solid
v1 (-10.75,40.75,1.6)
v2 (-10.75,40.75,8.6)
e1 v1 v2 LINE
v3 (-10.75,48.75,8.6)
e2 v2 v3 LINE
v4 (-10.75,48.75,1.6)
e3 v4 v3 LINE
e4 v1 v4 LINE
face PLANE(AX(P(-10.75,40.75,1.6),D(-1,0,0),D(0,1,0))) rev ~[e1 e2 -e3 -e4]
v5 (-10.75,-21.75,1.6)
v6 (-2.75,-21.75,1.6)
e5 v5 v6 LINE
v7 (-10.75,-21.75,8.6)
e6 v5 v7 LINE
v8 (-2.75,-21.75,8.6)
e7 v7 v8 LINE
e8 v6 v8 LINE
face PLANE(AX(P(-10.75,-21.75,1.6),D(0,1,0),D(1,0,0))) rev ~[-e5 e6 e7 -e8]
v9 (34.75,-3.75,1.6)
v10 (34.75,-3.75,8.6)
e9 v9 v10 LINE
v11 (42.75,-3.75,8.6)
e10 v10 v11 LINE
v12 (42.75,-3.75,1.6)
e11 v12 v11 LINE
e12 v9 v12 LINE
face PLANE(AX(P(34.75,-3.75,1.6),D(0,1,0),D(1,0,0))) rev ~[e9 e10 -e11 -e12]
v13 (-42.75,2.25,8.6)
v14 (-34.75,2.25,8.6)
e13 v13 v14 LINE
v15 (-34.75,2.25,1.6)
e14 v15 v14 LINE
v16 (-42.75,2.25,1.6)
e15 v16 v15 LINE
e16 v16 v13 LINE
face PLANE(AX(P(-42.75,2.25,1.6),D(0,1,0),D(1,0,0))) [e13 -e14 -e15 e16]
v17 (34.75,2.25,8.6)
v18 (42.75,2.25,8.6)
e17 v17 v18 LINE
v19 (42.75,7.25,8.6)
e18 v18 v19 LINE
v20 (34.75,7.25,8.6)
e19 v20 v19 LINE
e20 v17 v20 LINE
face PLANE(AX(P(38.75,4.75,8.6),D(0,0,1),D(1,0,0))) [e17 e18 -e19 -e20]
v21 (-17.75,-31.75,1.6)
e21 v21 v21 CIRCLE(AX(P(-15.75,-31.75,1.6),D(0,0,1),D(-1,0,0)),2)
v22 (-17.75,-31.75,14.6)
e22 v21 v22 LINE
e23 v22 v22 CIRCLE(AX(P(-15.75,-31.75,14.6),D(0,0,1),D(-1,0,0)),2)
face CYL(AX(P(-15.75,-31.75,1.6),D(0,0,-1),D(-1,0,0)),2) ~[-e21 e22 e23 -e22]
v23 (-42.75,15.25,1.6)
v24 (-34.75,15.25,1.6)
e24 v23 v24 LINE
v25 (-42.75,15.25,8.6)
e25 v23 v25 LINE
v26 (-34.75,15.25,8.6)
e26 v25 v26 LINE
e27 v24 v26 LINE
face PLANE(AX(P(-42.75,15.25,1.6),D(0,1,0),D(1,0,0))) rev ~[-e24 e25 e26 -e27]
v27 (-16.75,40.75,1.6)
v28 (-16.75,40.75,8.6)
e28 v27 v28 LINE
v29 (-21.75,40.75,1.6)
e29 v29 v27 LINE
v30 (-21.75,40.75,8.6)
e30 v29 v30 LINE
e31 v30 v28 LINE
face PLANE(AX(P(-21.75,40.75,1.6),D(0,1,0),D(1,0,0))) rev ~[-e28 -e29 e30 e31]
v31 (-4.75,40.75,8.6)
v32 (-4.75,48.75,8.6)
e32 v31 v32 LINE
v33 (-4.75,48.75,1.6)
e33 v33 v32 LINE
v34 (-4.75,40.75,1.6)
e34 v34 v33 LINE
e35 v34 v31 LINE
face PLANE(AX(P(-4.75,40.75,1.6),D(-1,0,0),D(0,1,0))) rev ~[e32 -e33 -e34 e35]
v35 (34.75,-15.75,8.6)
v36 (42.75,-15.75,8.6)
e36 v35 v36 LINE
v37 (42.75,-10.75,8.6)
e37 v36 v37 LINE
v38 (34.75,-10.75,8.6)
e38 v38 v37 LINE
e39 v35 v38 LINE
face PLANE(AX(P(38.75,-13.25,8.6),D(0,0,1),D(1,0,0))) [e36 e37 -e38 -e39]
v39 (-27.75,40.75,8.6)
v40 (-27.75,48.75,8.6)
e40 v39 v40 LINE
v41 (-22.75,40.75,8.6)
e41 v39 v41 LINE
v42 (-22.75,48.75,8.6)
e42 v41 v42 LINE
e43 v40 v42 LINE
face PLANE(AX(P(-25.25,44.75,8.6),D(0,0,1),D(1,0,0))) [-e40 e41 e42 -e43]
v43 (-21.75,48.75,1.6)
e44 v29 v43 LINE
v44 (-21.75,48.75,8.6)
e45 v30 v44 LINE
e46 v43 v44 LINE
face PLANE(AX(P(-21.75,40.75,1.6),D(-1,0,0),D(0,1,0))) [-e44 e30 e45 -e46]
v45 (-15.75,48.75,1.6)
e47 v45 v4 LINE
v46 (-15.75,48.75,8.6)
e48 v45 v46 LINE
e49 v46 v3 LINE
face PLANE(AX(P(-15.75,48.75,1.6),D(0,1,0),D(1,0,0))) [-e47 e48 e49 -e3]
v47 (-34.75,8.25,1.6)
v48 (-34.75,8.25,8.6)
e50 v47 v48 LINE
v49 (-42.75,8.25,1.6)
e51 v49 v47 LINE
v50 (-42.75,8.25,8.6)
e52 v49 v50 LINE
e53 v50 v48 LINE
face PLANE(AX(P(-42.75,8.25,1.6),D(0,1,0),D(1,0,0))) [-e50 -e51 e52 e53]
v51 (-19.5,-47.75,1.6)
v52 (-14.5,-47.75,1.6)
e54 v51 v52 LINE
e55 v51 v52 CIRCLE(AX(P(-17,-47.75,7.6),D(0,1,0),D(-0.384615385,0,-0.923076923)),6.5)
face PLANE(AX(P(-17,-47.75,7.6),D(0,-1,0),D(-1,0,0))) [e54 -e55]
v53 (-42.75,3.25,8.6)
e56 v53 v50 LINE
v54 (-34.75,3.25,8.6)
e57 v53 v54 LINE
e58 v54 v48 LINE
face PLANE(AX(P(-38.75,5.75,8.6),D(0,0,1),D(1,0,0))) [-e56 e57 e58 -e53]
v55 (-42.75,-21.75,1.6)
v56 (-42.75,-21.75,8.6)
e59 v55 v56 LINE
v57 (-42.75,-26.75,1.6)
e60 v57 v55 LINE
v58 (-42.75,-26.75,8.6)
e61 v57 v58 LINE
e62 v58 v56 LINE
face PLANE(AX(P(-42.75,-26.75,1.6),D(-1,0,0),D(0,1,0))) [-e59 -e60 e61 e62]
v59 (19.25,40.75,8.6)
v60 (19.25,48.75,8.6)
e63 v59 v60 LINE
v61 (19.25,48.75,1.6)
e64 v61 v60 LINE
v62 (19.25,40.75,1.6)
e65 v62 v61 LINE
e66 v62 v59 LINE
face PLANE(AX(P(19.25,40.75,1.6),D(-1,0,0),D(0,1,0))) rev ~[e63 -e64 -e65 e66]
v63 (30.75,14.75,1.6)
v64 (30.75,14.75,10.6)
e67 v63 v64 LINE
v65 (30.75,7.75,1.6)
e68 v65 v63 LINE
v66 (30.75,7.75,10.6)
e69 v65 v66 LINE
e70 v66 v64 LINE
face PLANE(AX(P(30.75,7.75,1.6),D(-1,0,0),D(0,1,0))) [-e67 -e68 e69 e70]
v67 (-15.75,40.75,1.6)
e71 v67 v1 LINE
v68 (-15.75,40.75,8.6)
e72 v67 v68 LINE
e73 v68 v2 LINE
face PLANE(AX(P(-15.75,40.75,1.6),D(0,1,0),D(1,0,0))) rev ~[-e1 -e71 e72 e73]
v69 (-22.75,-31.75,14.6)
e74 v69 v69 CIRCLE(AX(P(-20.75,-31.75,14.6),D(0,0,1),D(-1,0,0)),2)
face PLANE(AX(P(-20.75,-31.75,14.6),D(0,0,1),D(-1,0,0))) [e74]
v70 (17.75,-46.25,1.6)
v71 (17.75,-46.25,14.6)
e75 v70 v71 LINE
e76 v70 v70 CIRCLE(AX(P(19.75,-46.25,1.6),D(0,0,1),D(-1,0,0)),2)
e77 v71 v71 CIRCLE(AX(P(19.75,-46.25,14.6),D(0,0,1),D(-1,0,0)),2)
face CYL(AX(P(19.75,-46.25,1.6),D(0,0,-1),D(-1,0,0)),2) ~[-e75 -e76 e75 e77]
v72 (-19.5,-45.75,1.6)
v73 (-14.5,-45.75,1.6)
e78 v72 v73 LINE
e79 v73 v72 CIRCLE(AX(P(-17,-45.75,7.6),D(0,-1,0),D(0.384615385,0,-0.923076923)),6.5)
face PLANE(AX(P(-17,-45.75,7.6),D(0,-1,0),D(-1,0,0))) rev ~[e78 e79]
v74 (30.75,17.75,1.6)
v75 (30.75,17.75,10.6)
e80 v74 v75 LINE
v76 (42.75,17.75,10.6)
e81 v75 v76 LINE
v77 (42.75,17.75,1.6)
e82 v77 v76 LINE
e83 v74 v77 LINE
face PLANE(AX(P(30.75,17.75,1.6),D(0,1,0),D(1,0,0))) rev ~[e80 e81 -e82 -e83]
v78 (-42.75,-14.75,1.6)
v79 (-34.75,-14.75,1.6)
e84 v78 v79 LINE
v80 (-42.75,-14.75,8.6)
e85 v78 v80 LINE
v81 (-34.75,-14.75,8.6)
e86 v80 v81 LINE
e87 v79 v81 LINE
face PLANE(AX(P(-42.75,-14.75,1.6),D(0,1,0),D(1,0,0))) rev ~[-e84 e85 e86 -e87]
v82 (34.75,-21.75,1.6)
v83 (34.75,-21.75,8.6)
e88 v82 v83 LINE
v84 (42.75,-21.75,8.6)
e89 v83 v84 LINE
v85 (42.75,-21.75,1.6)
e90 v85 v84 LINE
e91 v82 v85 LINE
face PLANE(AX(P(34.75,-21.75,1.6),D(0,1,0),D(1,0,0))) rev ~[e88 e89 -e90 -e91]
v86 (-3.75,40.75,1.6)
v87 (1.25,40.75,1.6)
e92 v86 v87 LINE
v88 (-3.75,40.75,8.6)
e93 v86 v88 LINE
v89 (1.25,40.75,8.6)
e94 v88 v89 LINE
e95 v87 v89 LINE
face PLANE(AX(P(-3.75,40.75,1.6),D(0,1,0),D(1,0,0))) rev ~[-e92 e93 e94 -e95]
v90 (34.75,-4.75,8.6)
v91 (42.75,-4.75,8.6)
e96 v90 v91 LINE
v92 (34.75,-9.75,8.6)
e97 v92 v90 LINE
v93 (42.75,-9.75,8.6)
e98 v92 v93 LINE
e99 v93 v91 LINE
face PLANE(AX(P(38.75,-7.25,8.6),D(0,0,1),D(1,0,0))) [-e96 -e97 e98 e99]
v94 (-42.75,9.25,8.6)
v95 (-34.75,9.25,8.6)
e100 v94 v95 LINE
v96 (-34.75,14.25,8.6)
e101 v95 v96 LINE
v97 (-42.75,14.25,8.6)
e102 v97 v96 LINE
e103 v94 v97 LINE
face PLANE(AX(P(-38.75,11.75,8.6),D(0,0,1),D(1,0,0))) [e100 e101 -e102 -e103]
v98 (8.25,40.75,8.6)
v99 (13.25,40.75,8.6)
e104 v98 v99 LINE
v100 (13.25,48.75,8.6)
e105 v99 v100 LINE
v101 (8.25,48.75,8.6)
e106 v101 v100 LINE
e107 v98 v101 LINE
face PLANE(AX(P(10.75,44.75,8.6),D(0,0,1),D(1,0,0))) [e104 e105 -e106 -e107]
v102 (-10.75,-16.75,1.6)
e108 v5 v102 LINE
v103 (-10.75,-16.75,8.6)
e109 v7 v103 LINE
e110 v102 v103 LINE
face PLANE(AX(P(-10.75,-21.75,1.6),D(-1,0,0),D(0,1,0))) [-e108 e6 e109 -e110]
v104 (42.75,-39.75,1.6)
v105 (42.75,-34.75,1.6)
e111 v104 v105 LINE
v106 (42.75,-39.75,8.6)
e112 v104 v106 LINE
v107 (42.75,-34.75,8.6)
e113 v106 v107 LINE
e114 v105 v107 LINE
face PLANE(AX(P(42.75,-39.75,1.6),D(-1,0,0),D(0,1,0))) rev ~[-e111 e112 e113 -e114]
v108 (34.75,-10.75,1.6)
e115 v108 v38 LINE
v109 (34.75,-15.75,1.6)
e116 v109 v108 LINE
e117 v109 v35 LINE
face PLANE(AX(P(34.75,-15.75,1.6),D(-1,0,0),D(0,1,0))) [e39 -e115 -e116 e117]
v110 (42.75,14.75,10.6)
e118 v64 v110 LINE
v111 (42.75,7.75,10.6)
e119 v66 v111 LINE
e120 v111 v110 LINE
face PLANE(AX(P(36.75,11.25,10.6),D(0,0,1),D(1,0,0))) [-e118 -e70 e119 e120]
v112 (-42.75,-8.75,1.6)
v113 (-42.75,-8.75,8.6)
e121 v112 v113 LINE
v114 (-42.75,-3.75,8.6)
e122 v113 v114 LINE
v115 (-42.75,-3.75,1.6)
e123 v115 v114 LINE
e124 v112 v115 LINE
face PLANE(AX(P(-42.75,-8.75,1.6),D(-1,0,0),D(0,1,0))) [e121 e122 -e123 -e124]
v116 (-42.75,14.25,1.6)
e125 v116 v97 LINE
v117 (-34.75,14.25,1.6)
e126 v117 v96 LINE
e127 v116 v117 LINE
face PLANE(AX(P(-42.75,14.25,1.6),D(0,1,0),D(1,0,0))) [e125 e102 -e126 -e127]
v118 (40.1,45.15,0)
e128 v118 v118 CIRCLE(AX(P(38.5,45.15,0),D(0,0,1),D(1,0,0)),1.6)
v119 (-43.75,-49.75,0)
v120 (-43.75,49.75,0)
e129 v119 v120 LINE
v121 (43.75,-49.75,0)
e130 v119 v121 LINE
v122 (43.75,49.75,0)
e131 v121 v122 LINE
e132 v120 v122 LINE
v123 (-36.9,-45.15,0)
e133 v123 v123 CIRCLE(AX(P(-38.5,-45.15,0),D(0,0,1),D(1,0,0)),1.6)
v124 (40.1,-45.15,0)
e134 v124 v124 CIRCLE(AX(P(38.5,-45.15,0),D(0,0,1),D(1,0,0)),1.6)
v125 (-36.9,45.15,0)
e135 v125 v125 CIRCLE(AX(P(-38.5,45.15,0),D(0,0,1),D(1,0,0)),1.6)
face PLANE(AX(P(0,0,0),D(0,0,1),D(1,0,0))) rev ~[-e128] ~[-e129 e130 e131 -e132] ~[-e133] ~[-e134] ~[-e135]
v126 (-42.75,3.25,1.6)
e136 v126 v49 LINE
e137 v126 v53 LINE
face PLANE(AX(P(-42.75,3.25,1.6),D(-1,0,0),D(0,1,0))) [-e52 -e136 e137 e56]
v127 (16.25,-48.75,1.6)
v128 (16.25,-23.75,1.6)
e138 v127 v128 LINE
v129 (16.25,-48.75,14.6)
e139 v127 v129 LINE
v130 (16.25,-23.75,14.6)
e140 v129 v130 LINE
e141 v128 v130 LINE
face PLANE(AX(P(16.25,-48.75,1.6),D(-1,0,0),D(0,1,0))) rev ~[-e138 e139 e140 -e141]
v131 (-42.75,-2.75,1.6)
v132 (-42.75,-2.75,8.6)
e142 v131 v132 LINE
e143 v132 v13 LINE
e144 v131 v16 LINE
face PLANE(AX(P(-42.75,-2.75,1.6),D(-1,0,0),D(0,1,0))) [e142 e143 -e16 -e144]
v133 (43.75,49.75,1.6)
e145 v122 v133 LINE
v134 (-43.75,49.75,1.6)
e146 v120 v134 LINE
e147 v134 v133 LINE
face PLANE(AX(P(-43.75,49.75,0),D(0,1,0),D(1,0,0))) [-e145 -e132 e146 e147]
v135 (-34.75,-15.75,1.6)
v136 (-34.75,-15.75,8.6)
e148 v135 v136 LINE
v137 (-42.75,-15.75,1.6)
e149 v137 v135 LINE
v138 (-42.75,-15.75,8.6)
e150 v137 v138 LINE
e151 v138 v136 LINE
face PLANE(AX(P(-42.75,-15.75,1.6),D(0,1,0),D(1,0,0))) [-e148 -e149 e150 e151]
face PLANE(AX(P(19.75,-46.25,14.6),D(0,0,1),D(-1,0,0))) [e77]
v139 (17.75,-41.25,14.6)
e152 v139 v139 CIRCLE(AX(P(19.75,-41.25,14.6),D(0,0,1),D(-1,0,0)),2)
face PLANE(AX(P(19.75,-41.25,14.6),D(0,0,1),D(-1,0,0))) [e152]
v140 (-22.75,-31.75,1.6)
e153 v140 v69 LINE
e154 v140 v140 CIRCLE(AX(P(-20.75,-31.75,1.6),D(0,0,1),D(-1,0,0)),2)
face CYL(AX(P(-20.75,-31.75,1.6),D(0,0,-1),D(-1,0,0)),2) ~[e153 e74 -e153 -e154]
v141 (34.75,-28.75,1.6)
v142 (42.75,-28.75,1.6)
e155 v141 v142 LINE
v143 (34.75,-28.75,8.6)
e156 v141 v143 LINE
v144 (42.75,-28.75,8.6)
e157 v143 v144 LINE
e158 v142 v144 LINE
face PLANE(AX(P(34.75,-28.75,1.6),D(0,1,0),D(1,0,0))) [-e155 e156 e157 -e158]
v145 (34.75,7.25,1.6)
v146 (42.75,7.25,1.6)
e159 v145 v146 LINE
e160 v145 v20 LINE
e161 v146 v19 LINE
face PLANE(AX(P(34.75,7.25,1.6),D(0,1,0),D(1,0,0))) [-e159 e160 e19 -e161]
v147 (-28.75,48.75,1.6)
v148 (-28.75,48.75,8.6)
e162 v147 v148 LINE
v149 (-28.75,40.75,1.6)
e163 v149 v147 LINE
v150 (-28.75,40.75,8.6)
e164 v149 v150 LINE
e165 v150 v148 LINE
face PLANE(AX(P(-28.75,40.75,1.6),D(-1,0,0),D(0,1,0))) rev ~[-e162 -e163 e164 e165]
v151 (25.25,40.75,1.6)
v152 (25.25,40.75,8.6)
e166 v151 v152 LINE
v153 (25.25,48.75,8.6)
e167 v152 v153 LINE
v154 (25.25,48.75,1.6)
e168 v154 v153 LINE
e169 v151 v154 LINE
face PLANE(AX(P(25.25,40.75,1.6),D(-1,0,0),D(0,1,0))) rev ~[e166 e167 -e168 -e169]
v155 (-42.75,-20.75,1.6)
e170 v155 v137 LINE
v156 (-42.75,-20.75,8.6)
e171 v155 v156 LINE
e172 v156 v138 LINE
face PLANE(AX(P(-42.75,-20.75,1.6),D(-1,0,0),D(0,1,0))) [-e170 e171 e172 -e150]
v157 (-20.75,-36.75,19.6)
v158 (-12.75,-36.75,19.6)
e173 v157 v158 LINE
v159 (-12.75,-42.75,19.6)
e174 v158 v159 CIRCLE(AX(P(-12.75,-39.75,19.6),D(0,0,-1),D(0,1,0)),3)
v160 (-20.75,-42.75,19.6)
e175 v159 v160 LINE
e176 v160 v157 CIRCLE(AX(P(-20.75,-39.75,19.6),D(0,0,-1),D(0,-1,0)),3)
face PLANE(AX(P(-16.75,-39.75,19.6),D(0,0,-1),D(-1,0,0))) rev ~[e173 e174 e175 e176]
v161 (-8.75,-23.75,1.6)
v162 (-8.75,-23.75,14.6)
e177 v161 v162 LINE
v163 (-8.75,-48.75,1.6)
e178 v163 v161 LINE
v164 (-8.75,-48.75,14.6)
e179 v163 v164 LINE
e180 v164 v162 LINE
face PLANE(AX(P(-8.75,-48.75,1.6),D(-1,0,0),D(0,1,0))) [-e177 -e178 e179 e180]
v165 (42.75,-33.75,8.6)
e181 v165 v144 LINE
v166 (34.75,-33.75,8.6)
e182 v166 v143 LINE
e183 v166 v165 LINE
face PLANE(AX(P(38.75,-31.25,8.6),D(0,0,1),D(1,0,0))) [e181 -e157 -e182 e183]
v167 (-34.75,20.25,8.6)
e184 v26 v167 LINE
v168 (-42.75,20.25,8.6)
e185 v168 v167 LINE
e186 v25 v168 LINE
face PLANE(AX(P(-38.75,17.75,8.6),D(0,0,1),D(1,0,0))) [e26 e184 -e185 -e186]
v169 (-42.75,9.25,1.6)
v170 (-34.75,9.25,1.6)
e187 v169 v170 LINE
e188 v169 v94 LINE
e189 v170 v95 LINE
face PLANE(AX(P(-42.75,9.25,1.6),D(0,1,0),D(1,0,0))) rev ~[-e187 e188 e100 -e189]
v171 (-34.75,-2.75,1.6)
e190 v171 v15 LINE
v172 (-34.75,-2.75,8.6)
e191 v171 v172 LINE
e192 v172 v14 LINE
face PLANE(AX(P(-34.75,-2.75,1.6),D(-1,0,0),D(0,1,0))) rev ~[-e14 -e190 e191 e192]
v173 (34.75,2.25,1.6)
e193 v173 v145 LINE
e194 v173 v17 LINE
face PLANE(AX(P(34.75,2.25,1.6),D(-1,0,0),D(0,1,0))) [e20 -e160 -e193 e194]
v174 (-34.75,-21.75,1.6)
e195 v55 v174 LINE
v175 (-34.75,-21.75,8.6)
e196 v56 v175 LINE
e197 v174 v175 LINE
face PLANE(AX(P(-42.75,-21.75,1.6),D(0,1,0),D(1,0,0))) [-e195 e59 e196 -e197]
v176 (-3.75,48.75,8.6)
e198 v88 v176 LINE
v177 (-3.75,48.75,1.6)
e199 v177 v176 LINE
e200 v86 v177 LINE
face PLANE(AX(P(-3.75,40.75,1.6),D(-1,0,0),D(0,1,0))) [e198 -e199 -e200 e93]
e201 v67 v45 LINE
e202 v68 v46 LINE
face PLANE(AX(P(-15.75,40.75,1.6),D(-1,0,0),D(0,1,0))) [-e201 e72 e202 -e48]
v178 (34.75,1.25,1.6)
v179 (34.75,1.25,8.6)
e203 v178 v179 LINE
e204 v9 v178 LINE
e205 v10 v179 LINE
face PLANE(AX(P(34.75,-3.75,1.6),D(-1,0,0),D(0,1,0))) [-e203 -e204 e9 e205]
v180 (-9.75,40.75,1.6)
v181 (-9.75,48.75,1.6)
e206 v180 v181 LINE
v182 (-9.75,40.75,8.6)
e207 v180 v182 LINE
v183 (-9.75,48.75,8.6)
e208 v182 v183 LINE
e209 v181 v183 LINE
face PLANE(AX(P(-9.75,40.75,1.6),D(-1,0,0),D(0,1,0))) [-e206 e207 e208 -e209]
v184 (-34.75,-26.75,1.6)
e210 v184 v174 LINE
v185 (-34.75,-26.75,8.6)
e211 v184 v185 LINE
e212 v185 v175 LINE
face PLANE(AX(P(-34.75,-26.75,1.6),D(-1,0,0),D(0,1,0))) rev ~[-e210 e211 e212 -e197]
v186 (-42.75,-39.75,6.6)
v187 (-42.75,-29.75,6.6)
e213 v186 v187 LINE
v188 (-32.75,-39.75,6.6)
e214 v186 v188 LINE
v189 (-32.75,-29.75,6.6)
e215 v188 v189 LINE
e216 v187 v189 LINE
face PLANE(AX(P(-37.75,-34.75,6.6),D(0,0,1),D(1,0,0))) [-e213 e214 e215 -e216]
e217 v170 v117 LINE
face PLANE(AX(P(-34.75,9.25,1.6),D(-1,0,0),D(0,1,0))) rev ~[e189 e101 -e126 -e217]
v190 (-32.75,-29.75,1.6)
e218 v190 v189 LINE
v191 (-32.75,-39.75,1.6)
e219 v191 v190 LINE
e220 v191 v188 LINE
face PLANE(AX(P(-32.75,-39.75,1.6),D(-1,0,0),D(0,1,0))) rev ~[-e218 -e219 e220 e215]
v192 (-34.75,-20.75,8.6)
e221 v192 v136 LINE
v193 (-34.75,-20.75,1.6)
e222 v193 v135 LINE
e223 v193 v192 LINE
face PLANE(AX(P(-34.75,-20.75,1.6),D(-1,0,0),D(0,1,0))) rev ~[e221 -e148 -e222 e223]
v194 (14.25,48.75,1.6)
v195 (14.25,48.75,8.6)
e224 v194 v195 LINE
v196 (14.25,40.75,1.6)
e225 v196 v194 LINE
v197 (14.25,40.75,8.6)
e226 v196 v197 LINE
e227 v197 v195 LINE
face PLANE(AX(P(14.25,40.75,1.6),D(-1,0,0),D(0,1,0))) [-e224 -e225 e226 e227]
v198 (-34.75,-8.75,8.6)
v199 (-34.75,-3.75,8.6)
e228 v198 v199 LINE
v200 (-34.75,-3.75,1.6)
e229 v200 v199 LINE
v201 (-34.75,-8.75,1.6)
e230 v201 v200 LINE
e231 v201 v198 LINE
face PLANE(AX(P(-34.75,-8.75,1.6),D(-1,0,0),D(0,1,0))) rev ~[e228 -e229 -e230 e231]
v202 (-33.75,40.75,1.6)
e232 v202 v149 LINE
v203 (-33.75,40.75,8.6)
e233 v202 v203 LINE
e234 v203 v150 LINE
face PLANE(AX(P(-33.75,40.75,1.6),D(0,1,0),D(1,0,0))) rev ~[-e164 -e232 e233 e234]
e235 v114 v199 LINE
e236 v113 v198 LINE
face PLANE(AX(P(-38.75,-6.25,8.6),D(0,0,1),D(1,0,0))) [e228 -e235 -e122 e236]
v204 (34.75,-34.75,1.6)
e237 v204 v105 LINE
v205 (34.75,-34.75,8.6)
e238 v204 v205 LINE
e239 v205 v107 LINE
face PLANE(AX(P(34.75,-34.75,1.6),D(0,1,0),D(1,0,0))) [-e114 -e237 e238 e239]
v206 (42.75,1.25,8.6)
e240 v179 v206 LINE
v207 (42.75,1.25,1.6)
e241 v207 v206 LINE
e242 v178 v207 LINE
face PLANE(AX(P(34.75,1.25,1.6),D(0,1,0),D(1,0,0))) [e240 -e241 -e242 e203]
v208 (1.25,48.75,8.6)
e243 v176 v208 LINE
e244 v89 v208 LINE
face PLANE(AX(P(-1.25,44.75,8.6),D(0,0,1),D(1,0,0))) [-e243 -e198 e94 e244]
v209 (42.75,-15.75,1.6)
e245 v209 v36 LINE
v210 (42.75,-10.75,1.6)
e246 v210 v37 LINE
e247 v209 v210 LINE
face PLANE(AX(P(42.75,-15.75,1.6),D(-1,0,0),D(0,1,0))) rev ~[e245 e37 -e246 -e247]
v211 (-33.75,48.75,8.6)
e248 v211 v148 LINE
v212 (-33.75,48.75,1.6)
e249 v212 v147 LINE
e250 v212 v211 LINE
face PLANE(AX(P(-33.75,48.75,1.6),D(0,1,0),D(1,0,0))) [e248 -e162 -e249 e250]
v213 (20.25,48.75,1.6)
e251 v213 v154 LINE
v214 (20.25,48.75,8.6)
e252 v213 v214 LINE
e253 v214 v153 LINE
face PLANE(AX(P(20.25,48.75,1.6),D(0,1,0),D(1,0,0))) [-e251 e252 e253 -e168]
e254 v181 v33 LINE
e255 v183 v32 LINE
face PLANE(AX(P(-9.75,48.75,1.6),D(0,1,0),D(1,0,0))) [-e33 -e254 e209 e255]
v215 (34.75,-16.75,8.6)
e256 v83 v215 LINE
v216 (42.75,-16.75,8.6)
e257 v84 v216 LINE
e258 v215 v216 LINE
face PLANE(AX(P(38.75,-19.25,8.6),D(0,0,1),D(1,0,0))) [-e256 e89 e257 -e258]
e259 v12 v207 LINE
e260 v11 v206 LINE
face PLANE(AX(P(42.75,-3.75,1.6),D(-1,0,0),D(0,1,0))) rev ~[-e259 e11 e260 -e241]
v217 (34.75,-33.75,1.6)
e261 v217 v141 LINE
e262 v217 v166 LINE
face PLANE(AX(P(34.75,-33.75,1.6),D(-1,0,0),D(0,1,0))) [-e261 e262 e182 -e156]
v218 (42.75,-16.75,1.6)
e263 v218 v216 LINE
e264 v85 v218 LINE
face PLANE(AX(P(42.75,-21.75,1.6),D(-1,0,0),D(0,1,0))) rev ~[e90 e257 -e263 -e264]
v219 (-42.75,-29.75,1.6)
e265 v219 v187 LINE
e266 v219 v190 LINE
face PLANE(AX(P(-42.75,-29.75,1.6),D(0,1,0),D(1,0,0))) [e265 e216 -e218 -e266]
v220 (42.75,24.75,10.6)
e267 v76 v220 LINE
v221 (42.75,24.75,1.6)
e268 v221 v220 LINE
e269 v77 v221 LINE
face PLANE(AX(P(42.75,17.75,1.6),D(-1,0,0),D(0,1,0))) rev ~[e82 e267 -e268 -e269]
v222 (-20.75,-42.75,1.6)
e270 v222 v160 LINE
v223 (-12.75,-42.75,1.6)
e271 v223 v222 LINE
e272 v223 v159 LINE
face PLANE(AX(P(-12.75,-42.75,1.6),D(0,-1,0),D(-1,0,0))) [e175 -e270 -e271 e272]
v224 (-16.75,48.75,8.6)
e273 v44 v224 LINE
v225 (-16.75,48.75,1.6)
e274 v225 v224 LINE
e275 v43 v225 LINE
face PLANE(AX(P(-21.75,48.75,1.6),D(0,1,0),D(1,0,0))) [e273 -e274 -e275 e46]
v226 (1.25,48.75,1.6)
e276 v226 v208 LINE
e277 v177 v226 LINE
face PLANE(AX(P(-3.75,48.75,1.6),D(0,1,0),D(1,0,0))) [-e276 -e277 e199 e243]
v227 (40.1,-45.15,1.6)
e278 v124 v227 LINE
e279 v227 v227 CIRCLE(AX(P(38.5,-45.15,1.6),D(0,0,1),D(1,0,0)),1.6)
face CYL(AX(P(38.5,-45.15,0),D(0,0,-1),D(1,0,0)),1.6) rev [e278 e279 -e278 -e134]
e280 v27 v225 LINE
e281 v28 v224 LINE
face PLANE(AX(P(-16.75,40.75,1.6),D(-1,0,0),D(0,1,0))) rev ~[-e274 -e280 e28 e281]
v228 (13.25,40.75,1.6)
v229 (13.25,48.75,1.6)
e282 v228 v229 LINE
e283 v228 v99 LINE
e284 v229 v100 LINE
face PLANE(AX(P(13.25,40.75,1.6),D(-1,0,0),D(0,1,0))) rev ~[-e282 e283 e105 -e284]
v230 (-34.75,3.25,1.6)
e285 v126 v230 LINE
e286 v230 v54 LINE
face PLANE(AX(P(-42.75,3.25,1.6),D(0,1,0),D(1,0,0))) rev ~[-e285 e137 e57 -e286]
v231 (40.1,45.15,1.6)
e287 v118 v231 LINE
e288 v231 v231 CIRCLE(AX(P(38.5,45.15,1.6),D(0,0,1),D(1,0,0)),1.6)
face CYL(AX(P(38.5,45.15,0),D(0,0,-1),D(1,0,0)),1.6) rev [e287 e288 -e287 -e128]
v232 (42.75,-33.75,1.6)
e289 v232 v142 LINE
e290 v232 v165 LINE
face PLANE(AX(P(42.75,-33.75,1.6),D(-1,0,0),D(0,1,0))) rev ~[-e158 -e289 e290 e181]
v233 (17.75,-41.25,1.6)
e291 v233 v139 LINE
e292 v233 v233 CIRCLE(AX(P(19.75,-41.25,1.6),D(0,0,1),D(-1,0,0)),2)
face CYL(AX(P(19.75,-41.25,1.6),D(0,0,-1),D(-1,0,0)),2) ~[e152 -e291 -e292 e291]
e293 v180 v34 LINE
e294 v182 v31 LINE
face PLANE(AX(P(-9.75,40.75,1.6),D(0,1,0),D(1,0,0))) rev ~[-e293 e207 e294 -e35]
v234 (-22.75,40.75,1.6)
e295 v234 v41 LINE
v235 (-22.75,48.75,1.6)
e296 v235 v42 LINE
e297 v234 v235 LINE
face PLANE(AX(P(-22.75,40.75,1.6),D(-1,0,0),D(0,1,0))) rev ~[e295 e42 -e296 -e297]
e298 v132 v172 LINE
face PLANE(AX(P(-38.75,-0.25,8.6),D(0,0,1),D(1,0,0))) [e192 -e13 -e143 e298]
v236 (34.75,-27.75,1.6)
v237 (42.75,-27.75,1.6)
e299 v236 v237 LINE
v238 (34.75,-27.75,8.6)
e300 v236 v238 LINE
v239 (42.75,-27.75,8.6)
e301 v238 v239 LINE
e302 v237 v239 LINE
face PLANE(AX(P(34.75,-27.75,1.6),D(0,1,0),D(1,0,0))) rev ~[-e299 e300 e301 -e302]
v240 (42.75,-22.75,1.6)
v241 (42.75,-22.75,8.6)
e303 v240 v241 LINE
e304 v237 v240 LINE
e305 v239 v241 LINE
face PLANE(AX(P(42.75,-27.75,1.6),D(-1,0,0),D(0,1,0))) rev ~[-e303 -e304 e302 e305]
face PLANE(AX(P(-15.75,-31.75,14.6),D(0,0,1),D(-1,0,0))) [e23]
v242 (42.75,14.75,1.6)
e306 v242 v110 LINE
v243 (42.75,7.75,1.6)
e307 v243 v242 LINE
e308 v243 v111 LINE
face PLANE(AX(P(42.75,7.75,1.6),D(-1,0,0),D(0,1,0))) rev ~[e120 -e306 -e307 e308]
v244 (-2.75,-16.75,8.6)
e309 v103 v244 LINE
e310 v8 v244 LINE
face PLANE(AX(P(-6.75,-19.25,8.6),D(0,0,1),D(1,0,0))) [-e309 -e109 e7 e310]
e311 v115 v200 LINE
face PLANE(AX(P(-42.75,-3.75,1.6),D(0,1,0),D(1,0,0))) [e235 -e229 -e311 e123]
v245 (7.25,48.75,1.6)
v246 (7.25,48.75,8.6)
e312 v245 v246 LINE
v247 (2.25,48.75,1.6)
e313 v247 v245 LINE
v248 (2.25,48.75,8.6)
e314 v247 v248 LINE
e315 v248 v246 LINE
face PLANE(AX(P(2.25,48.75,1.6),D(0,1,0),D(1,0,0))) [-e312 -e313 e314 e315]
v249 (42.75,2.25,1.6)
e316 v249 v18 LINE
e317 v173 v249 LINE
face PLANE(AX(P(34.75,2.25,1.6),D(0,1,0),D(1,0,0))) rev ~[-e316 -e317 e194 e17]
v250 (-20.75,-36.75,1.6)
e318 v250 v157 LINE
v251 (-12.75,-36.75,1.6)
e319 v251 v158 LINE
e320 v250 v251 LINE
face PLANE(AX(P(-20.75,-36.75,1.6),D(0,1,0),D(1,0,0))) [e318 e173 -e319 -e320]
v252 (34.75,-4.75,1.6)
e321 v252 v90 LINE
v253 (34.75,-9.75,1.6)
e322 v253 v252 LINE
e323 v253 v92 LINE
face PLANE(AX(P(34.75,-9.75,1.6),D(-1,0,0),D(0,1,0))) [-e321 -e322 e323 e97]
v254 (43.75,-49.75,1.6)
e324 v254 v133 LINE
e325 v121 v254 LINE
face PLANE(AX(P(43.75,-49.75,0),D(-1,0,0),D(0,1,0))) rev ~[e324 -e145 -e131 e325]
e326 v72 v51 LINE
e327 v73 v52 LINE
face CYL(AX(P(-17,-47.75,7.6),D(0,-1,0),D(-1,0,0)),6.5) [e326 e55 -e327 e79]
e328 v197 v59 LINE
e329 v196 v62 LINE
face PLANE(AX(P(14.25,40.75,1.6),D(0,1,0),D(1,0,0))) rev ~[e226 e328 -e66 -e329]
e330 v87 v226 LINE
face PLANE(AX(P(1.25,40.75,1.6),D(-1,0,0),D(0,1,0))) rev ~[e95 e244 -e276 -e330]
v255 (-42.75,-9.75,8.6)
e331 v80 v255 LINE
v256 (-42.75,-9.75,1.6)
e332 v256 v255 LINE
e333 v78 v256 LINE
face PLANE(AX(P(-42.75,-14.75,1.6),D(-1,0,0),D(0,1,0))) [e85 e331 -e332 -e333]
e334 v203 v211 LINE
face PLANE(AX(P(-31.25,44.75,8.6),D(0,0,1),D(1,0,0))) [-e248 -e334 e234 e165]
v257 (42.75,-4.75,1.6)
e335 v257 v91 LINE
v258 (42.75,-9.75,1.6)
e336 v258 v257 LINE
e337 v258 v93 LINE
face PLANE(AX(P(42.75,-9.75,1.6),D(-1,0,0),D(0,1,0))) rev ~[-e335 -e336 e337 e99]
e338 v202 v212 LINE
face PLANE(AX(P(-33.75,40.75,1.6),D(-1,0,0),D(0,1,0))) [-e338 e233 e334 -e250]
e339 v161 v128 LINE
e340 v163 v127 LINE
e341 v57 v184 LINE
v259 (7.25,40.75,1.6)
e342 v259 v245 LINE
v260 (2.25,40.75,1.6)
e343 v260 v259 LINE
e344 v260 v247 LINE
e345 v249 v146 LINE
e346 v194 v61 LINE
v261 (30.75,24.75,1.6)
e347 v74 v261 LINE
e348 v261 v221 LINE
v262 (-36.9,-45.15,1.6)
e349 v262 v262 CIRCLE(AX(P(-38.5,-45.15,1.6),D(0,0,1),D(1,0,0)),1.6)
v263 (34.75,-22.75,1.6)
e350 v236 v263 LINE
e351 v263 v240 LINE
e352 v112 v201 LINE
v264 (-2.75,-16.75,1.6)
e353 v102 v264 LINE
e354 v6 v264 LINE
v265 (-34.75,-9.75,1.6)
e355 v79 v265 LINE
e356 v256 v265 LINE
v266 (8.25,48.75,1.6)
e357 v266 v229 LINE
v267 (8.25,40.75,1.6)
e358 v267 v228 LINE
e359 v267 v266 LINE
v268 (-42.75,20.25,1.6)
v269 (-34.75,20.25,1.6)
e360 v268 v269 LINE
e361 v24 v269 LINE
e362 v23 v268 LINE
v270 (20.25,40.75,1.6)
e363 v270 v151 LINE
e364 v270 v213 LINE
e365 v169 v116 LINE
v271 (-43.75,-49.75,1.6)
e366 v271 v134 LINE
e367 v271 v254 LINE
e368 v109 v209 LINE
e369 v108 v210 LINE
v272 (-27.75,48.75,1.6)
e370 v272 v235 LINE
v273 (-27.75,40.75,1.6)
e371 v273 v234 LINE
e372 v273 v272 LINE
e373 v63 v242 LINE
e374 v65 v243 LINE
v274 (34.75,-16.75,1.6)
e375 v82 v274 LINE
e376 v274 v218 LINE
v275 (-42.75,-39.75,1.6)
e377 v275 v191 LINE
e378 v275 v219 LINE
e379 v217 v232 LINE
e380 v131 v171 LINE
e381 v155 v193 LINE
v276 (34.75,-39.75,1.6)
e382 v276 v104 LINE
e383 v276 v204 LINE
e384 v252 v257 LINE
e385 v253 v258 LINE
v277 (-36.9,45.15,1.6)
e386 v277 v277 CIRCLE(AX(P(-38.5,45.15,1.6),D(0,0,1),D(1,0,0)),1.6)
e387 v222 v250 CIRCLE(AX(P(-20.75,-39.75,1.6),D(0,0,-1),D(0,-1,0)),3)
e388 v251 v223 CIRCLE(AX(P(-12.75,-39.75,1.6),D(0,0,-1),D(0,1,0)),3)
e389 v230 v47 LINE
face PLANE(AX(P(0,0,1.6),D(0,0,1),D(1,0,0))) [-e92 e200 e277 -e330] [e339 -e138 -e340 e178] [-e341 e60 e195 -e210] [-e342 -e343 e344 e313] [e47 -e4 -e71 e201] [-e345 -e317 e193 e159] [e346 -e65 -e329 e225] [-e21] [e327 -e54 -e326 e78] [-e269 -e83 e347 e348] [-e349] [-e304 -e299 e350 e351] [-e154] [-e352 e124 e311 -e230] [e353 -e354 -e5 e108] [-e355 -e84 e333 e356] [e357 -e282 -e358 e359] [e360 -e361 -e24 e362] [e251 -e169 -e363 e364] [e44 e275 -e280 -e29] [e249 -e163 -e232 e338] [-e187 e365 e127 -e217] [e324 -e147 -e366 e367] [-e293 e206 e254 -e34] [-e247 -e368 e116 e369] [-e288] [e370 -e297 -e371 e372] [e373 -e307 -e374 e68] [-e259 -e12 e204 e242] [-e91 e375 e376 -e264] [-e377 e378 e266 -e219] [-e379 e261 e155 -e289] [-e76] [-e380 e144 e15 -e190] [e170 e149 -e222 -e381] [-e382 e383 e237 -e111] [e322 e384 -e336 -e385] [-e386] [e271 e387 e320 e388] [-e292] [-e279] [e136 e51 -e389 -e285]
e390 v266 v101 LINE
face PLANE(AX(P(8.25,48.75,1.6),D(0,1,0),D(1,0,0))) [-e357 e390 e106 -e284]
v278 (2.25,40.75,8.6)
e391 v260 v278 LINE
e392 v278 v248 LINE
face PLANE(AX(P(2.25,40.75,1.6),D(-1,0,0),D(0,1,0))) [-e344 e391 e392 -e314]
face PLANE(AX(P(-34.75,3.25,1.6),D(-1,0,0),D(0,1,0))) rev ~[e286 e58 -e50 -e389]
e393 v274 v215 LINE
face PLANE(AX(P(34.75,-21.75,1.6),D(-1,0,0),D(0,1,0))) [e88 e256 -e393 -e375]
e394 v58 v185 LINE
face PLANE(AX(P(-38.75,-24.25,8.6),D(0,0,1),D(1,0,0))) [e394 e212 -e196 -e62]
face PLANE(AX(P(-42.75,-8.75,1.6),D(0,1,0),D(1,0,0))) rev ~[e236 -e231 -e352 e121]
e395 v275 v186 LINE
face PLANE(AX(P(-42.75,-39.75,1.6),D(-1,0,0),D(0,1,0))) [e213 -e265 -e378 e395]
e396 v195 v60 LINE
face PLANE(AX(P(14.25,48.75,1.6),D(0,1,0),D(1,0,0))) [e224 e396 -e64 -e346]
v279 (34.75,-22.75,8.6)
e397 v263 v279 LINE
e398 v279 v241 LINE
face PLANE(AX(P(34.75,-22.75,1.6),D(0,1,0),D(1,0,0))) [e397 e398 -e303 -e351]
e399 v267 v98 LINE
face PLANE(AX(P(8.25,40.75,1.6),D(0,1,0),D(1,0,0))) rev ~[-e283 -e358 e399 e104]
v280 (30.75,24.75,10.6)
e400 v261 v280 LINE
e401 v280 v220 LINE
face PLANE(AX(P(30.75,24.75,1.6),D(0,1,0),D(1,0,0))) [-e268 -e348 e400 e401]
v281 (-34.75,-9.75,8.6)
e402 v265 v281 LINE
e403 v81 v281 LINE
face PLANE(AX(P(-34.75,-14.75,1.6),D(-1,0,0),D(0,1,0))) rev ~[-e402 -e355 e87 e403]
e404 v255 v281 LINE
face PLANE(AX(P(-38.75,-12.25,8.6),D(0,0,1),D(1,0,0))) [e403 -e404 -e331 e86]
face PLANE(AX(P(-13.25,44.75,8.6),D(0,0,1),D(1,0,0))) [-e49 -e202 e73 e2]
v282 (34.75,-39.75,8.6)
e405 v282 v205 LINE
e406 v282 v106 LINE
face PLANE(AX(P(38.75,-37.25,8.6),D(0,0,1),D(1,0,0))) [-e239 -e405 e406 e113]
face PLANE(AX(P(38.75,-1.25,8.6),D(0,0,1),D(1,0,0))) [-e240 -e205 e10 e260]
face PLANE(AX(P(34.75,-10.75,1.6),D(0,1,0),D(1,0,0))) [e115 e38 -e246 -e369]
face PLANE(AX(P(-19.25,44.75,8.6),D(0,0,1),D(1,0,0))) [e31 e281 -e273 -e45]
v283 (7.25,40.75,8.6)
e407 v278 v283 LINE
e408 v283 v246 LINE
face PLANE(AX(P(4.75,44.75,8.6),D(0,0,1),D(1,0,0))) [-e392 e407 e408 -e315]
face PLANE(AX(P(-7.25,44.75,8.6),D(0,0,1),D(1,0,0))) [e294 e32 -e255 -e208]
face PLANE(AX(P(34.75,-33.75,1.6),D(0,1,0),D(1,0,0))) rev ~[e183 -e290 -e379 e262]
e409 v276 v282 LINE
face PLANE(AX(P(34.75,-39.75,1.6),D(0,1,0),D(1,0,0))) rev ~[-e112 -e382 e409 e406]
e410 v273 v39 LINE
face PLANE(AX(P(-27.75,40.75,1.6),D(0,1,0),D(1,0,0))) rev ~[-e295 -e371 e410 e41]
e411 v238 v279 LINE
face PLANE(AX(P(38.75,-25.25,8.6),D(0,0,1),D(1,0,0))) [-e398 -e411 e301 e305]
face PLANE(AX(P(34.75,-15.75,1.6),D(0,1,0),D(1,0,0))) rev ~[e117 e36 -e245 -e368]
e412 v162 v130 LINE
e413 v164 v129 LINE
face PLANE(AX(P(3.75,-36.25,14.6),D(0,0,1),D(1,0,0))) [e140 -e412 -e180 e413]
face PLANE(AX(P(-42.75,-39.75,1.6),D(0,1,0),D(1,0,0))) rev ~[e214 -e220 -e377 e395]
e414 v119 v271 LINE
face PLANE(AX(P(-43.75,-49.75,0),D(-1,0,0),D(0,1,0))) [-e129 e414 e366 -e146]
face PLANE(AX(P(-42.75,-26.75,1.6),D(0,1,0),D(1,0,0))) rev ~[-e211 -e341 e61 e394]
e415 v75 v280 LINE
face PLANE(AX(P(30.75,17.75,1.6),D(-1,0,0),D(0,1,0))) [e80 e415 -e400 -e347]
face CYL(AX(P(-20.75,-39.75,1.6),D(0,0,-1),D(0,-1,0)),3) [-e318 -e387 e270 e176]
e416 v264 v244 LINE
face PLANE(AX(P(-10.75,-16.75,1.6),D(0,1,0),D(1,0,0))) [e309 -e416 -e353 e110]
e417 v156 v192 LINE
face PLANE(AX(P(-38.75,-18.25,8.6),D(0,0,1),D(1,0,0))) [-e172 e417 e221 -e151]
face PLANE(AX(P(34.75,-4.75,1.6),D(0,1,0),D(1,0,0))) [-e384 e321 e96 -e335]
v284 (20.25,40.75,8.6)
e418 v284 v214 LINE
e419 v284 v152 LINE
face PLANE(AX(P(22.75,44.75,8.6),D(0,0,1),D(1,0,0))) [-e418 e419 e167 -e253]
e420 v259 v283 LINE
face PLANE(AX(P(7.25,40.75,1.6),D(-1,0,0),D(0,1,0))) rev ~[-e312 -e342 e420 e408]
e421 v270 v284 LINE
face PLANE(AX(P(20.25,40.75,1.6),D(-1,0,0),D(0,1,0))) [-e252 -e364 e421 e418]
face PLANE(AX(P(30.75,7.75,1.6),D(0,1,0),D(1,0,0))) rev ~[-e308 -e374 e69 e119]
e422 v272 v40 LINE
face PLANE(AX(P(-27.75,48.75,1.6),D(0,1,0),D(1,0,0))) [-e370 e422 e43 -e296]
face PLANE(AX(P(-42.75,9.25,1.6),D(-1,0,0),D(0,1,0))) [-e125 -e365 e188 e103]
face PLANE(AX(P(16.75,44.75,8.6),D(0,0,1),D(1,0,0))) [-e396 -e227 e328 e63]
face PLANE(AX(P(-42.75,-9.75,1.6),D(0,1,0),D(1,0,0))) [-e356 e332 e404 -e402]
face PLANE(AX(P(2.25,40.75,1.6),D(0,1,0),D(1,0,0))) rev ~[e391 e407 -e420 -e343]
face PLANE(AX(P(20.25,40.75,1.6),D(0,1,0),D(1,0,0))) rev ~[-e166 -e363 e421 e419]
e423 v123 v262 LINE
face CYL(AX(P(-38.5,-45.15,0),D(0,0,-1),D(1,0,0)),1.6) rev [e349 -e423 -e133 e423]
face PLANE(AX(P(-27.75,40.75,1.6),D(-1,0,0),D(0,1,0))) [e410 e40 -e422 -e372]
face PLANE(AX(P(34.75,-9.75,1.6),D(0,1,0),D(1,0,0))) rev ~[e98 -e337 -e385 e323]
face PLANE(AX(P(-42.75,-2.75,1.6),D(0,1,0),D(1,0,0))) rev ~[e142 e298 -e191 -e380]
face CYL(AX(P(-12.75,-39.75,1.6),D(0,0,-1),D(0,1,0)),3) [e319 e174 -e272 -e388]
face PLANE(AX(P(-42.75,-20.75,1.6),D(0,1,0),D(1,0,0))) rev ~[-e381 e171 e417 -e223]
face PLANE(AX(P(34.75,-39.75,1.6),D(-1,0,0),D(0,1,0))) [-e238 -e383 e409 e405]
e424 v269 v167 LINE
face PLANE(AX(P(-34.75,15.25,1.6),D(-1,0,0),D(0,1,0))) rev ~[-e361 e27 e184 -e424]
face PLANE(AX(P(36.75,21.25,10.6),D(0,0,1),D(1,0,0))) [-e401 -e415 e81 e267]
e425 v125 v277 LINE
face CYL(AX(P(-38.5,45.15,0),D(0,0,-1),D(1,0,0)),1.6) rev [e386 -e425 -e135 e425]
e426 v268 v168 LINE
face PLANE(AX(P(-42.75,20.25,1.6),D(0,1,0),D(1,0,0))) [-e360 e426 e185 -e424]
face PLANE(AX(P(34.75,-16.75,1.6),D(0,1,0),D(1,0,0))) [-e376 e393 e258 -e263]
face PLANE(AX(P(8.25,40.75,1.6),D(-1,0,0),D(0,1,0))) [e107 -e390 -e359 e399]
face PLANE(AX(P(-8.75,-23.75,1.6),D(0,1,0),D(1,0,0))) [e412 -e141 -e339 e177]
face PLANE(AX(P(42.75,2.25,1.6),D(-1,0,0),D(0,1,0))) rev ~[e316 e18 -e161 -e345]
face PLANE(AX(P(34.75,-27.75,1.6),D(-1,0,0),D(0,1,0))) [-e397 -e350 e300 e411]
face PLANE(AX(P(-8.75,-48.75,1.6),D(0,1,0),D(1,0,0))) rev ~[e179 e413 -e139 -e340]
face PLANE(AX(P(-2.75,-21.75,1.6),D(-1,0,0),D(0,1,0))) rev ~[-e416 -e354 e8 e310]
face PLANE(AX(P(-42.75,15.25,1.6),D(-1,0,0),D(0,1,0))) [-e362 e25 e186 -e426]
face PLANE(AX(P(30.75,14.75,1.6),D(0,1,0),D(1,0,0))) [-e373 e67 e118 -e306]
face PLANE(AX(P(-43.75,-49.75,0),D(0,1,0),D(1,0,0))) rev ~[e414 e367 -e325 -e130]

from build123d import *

# Parameters (mm, degrees)
SKETCH_1_W      = 87.5
SKETCH_1_H      = 99.5
SKETCH_1_R      = 1.6
EXTRUDE_1_DEPTH = 1.6
SKETCH_2_W      = 10
SKETCH_2_H      = 10
EXTRUDE_2_DEPTH = 5
SKETCH_3_W      = 25
SKETCH_3_H      = 25
EXTRUDE_3_DEPTH = 13
SKETCH_4_W      = 5
SKETCH_4_H      = 8
SKETCH_4_W_2    = 8
SKETCH_4_H_2    = 5
EXTRUDE_4_DEPTH = 7
SKETCH_5_W      = 12
SKETCH_5_H      = 7
EXTRUDE_5_DEPTH = 9
EXTRUDE_6_DEPTH = 18
SKETCH_7_R      = 2
EXTRUDE_7_DEPTH = 13
SKETCH_8_R      = 6.5
EXTRUDE_8_DEPTH = 2


with BuildPart() as part:
    # 草图1 → 凸台-拉伸1 (new body)
    with BuildSketch(Plane.XY):
        Rectangle(SKETCH_1_W, SKETCH_1_H)
        with Locations((-38.5, 45.15)):
            Circle(SKETCH_1_R, mode=Mode.SUBTRACT)
        with Locations((38.5, 45.15)):
            Circle(SKETCH_1_R, mode=Mode.SUBTRACT)
        with Locations((-38.5, -45.15)):
            Circle(SKETCH_1_R, mode=Mode.SUBTRACT)
        with Locations((38.5, -45.15)):
            Circle(SKETCH_1_R, mode=Mode.SUBTRACT)
    extrude(amount=EXTRUDE_1_DEPTH)

    # 草图2 → 凸台-拉伸2 (add)
    with BuildSketch(Plane.XY.offset(1.6)):
        with Locations((-37.75, -34.75)):
            Rectangle(SKETCH_2_W, SKETCH_2_H)
    extrude(amount=EXTRUDE_2_DEPTH)

    # 草图3 → 凸台-拉伸3 (add)
    with BuildSketch(Plane.XY.offset(1.6)):
        with Locations((3.75, -36.25)):
            Rectangle(SKETCH_3_W, SKETCH_3_H)
    extrude(amount=EXTRUDE_3_DEPTH)

    # 草图4 → 凸台-拉伸4 (add)
    with BuildSketch(Plane.XY.offset(1.6)):
        with Locations((-31.25, 44.75)):
            Rectangle(SKETCH_4_W, SKETCH_4_H)
        with Locations((-25.25, 44.75)):
            Rectangle(SKETCH_4_W, SKETCH_4_H)
        with Locations((-19.25, 44.75)):
            Rectangle(SKETCH_4_W, SKETCH_4_H)
        with Locations((-13.25, 44.75)):
            Rectangle(SKETCH_4_W, SKETCH_4_H)
        with Locations((-7.25, 44.75)):
            Rectangle(SKETCH_4_W, SKETCH_4_H)
        with Locations((-1.25, 44.75)):
            Rectangle(SKETCH_4_W, SKETCH_4_H)
        with Locations((4.75, 44.75)):
            Rectangle(SKETCH_4_W, SKETCH_4_H)
        with Locations((10.75, 44.75)):
            Rectangle(SKETCH_4_W, SKETCH_4_H)
        with Locations((16.75, 44.75)):
            Rectangle(SKETCH_4_W, SKETCH_4_H)
        with Locations((22.75, 44.75)):
            Rectangle(SKETCH_4_W, SKETCH_4_H)
        with Locations((-38.75, -24.25)):
            Rectangle(SKETCH_4_W_2, SKETCH_4_H_2)
        with Locations((-38.75, -18.25)):
            Rectangle(SKETCH_4_W_2, SKETCH_4_H_2)
        with Locations((-38.75, -12.25)):
            Rectangle(SKETCH_4_W_2, SKETCH_4_H_2)
        with Locations((-38.75, -6.25)):
            Rectangle(SKETCH_4_W_2, SKETCH_4_H_2)
        with Locations((-38.75, -0.25)):
            Rectangle(SKETCH_4_W_2, SKETCH_4_H_2)
        with Locations((-38.75, 5.75)):
            Rectangle(SKETCH_4_W_2, SKETCH_4_H_2)
        with Locations((-38.75, 11.75)):
            Rectangle(SKETCH_4_W_2, SKETCH_4_H_2)
        with Locations((-38.75, 17.75)):
            Rectangle(SKETCH_4_W_2, SKETCH_4_H_2)
        with Locations((38.75, -37.25)):
            Rectangle(SKETCH_4_W_2, SKETCH_4_H_2)
        with Locations((38.75, -31.25)):
            Rectangle(SKETCH_4_W_2, SKETCH_4_H_2)
        with Locations((38.75, -25.25)):
            Rectangle(SKETCH_4_W_2, SKETCH_4_H_2)
        with Locations((38.75, -19.25)):
            Rectangle(SKETCH_4_W_2, SKETCH_4_H_2)
        with Locations((38.75, -13.25)):
            Rectangle(SKETCH_4_W_2, SKETCH_4_H_2)
        with Locations((38.75, -7.25)):
            Rectangle(SKETCH_4_W_2, SKETCH_4_H_2)
        with Locations((38.75, -1.25)):
            Rectangle(SKETCH_4_W_2, SKETCH_4_H_2)
        with Locations((38.75, 4.75)):
            Rectangle(SKETCH_4_W_2, SKETCH_4_H_2)
        with Locations((-6.75, -19.25)):
            Rectangle(SKETCH_4_W_2, SKETCH_4_H_2)
    extrude(amount=EXTRUDE_4_DEPTH)

    # 草图5 → 凸台-拉伸5 (add)
    with BuildSketch(Plane.XY.offset(1.6)):
        with Locations((36.75, 11.25)):
            Rectangle(SKETCH_5_W, SKETCH_5_H)
        with Locations((36.75, 21.25)):
            Rectangle(SKETCH_5_W, SKETCH_5_H)
    extrude(amount=EXTRUDE_5_DEPTH)

    # 草图6 → 凸台-拉伸6 (add)
    with BuildSketch(Plane.XY.offset(1.6)):
        with BuildLine():
            Line((-20.75, -36.75), (-12.75, -36.75))
            ThreePointArc((-12.75, -36.75), (-9.75, -39.75), (-12.75, -42.75))
            Line((-12.75, -42.75), (-20.75, -42.75))
            ThreePointArc((-20.75, -42.75), (-23.75, -39.75), (-20.75, -36.75))
        make_face()
    extrude(amount=EXTRUDE_6_DEPTH)

    # 草图7 → 凸台-拉伸7 (add)
    with BuildSketch(Plane.XY.offset(1.6)):
        with Locations(Location((-20.75, -31.75, 0), (0, 0, 180))):
            Circle(SKETCH_7_R)
        with Locations(Location((-15.75, -31.75, 0), (0, 0, 180))):
            Circle(SKETCH_7_R)
        with Locations(Location((19.75, -41.25, 0), (0, 0, 180))):
            Circle(SKETCH_7_R)
        with Locations(Location((19.75, -46.25, 0), (0, 0, 180))):
            Circle(SKETCH_7_R)
    extrude(amount=EXTRUDE_7_DEPTH)

    # 草图8 → 凸台-拉伸8 (add)
    with BuildSketch(Plane(origin=(0, -47.75, 0), x_dir=(-1, 0, 0), z_dir=(0, -1, 0))):
        with Locations((17, -7.6)):
            Circle(SKETCH_8_R)
    extrude(amount=-EXTRUDE_8_DEPTH)


solid = part.part
